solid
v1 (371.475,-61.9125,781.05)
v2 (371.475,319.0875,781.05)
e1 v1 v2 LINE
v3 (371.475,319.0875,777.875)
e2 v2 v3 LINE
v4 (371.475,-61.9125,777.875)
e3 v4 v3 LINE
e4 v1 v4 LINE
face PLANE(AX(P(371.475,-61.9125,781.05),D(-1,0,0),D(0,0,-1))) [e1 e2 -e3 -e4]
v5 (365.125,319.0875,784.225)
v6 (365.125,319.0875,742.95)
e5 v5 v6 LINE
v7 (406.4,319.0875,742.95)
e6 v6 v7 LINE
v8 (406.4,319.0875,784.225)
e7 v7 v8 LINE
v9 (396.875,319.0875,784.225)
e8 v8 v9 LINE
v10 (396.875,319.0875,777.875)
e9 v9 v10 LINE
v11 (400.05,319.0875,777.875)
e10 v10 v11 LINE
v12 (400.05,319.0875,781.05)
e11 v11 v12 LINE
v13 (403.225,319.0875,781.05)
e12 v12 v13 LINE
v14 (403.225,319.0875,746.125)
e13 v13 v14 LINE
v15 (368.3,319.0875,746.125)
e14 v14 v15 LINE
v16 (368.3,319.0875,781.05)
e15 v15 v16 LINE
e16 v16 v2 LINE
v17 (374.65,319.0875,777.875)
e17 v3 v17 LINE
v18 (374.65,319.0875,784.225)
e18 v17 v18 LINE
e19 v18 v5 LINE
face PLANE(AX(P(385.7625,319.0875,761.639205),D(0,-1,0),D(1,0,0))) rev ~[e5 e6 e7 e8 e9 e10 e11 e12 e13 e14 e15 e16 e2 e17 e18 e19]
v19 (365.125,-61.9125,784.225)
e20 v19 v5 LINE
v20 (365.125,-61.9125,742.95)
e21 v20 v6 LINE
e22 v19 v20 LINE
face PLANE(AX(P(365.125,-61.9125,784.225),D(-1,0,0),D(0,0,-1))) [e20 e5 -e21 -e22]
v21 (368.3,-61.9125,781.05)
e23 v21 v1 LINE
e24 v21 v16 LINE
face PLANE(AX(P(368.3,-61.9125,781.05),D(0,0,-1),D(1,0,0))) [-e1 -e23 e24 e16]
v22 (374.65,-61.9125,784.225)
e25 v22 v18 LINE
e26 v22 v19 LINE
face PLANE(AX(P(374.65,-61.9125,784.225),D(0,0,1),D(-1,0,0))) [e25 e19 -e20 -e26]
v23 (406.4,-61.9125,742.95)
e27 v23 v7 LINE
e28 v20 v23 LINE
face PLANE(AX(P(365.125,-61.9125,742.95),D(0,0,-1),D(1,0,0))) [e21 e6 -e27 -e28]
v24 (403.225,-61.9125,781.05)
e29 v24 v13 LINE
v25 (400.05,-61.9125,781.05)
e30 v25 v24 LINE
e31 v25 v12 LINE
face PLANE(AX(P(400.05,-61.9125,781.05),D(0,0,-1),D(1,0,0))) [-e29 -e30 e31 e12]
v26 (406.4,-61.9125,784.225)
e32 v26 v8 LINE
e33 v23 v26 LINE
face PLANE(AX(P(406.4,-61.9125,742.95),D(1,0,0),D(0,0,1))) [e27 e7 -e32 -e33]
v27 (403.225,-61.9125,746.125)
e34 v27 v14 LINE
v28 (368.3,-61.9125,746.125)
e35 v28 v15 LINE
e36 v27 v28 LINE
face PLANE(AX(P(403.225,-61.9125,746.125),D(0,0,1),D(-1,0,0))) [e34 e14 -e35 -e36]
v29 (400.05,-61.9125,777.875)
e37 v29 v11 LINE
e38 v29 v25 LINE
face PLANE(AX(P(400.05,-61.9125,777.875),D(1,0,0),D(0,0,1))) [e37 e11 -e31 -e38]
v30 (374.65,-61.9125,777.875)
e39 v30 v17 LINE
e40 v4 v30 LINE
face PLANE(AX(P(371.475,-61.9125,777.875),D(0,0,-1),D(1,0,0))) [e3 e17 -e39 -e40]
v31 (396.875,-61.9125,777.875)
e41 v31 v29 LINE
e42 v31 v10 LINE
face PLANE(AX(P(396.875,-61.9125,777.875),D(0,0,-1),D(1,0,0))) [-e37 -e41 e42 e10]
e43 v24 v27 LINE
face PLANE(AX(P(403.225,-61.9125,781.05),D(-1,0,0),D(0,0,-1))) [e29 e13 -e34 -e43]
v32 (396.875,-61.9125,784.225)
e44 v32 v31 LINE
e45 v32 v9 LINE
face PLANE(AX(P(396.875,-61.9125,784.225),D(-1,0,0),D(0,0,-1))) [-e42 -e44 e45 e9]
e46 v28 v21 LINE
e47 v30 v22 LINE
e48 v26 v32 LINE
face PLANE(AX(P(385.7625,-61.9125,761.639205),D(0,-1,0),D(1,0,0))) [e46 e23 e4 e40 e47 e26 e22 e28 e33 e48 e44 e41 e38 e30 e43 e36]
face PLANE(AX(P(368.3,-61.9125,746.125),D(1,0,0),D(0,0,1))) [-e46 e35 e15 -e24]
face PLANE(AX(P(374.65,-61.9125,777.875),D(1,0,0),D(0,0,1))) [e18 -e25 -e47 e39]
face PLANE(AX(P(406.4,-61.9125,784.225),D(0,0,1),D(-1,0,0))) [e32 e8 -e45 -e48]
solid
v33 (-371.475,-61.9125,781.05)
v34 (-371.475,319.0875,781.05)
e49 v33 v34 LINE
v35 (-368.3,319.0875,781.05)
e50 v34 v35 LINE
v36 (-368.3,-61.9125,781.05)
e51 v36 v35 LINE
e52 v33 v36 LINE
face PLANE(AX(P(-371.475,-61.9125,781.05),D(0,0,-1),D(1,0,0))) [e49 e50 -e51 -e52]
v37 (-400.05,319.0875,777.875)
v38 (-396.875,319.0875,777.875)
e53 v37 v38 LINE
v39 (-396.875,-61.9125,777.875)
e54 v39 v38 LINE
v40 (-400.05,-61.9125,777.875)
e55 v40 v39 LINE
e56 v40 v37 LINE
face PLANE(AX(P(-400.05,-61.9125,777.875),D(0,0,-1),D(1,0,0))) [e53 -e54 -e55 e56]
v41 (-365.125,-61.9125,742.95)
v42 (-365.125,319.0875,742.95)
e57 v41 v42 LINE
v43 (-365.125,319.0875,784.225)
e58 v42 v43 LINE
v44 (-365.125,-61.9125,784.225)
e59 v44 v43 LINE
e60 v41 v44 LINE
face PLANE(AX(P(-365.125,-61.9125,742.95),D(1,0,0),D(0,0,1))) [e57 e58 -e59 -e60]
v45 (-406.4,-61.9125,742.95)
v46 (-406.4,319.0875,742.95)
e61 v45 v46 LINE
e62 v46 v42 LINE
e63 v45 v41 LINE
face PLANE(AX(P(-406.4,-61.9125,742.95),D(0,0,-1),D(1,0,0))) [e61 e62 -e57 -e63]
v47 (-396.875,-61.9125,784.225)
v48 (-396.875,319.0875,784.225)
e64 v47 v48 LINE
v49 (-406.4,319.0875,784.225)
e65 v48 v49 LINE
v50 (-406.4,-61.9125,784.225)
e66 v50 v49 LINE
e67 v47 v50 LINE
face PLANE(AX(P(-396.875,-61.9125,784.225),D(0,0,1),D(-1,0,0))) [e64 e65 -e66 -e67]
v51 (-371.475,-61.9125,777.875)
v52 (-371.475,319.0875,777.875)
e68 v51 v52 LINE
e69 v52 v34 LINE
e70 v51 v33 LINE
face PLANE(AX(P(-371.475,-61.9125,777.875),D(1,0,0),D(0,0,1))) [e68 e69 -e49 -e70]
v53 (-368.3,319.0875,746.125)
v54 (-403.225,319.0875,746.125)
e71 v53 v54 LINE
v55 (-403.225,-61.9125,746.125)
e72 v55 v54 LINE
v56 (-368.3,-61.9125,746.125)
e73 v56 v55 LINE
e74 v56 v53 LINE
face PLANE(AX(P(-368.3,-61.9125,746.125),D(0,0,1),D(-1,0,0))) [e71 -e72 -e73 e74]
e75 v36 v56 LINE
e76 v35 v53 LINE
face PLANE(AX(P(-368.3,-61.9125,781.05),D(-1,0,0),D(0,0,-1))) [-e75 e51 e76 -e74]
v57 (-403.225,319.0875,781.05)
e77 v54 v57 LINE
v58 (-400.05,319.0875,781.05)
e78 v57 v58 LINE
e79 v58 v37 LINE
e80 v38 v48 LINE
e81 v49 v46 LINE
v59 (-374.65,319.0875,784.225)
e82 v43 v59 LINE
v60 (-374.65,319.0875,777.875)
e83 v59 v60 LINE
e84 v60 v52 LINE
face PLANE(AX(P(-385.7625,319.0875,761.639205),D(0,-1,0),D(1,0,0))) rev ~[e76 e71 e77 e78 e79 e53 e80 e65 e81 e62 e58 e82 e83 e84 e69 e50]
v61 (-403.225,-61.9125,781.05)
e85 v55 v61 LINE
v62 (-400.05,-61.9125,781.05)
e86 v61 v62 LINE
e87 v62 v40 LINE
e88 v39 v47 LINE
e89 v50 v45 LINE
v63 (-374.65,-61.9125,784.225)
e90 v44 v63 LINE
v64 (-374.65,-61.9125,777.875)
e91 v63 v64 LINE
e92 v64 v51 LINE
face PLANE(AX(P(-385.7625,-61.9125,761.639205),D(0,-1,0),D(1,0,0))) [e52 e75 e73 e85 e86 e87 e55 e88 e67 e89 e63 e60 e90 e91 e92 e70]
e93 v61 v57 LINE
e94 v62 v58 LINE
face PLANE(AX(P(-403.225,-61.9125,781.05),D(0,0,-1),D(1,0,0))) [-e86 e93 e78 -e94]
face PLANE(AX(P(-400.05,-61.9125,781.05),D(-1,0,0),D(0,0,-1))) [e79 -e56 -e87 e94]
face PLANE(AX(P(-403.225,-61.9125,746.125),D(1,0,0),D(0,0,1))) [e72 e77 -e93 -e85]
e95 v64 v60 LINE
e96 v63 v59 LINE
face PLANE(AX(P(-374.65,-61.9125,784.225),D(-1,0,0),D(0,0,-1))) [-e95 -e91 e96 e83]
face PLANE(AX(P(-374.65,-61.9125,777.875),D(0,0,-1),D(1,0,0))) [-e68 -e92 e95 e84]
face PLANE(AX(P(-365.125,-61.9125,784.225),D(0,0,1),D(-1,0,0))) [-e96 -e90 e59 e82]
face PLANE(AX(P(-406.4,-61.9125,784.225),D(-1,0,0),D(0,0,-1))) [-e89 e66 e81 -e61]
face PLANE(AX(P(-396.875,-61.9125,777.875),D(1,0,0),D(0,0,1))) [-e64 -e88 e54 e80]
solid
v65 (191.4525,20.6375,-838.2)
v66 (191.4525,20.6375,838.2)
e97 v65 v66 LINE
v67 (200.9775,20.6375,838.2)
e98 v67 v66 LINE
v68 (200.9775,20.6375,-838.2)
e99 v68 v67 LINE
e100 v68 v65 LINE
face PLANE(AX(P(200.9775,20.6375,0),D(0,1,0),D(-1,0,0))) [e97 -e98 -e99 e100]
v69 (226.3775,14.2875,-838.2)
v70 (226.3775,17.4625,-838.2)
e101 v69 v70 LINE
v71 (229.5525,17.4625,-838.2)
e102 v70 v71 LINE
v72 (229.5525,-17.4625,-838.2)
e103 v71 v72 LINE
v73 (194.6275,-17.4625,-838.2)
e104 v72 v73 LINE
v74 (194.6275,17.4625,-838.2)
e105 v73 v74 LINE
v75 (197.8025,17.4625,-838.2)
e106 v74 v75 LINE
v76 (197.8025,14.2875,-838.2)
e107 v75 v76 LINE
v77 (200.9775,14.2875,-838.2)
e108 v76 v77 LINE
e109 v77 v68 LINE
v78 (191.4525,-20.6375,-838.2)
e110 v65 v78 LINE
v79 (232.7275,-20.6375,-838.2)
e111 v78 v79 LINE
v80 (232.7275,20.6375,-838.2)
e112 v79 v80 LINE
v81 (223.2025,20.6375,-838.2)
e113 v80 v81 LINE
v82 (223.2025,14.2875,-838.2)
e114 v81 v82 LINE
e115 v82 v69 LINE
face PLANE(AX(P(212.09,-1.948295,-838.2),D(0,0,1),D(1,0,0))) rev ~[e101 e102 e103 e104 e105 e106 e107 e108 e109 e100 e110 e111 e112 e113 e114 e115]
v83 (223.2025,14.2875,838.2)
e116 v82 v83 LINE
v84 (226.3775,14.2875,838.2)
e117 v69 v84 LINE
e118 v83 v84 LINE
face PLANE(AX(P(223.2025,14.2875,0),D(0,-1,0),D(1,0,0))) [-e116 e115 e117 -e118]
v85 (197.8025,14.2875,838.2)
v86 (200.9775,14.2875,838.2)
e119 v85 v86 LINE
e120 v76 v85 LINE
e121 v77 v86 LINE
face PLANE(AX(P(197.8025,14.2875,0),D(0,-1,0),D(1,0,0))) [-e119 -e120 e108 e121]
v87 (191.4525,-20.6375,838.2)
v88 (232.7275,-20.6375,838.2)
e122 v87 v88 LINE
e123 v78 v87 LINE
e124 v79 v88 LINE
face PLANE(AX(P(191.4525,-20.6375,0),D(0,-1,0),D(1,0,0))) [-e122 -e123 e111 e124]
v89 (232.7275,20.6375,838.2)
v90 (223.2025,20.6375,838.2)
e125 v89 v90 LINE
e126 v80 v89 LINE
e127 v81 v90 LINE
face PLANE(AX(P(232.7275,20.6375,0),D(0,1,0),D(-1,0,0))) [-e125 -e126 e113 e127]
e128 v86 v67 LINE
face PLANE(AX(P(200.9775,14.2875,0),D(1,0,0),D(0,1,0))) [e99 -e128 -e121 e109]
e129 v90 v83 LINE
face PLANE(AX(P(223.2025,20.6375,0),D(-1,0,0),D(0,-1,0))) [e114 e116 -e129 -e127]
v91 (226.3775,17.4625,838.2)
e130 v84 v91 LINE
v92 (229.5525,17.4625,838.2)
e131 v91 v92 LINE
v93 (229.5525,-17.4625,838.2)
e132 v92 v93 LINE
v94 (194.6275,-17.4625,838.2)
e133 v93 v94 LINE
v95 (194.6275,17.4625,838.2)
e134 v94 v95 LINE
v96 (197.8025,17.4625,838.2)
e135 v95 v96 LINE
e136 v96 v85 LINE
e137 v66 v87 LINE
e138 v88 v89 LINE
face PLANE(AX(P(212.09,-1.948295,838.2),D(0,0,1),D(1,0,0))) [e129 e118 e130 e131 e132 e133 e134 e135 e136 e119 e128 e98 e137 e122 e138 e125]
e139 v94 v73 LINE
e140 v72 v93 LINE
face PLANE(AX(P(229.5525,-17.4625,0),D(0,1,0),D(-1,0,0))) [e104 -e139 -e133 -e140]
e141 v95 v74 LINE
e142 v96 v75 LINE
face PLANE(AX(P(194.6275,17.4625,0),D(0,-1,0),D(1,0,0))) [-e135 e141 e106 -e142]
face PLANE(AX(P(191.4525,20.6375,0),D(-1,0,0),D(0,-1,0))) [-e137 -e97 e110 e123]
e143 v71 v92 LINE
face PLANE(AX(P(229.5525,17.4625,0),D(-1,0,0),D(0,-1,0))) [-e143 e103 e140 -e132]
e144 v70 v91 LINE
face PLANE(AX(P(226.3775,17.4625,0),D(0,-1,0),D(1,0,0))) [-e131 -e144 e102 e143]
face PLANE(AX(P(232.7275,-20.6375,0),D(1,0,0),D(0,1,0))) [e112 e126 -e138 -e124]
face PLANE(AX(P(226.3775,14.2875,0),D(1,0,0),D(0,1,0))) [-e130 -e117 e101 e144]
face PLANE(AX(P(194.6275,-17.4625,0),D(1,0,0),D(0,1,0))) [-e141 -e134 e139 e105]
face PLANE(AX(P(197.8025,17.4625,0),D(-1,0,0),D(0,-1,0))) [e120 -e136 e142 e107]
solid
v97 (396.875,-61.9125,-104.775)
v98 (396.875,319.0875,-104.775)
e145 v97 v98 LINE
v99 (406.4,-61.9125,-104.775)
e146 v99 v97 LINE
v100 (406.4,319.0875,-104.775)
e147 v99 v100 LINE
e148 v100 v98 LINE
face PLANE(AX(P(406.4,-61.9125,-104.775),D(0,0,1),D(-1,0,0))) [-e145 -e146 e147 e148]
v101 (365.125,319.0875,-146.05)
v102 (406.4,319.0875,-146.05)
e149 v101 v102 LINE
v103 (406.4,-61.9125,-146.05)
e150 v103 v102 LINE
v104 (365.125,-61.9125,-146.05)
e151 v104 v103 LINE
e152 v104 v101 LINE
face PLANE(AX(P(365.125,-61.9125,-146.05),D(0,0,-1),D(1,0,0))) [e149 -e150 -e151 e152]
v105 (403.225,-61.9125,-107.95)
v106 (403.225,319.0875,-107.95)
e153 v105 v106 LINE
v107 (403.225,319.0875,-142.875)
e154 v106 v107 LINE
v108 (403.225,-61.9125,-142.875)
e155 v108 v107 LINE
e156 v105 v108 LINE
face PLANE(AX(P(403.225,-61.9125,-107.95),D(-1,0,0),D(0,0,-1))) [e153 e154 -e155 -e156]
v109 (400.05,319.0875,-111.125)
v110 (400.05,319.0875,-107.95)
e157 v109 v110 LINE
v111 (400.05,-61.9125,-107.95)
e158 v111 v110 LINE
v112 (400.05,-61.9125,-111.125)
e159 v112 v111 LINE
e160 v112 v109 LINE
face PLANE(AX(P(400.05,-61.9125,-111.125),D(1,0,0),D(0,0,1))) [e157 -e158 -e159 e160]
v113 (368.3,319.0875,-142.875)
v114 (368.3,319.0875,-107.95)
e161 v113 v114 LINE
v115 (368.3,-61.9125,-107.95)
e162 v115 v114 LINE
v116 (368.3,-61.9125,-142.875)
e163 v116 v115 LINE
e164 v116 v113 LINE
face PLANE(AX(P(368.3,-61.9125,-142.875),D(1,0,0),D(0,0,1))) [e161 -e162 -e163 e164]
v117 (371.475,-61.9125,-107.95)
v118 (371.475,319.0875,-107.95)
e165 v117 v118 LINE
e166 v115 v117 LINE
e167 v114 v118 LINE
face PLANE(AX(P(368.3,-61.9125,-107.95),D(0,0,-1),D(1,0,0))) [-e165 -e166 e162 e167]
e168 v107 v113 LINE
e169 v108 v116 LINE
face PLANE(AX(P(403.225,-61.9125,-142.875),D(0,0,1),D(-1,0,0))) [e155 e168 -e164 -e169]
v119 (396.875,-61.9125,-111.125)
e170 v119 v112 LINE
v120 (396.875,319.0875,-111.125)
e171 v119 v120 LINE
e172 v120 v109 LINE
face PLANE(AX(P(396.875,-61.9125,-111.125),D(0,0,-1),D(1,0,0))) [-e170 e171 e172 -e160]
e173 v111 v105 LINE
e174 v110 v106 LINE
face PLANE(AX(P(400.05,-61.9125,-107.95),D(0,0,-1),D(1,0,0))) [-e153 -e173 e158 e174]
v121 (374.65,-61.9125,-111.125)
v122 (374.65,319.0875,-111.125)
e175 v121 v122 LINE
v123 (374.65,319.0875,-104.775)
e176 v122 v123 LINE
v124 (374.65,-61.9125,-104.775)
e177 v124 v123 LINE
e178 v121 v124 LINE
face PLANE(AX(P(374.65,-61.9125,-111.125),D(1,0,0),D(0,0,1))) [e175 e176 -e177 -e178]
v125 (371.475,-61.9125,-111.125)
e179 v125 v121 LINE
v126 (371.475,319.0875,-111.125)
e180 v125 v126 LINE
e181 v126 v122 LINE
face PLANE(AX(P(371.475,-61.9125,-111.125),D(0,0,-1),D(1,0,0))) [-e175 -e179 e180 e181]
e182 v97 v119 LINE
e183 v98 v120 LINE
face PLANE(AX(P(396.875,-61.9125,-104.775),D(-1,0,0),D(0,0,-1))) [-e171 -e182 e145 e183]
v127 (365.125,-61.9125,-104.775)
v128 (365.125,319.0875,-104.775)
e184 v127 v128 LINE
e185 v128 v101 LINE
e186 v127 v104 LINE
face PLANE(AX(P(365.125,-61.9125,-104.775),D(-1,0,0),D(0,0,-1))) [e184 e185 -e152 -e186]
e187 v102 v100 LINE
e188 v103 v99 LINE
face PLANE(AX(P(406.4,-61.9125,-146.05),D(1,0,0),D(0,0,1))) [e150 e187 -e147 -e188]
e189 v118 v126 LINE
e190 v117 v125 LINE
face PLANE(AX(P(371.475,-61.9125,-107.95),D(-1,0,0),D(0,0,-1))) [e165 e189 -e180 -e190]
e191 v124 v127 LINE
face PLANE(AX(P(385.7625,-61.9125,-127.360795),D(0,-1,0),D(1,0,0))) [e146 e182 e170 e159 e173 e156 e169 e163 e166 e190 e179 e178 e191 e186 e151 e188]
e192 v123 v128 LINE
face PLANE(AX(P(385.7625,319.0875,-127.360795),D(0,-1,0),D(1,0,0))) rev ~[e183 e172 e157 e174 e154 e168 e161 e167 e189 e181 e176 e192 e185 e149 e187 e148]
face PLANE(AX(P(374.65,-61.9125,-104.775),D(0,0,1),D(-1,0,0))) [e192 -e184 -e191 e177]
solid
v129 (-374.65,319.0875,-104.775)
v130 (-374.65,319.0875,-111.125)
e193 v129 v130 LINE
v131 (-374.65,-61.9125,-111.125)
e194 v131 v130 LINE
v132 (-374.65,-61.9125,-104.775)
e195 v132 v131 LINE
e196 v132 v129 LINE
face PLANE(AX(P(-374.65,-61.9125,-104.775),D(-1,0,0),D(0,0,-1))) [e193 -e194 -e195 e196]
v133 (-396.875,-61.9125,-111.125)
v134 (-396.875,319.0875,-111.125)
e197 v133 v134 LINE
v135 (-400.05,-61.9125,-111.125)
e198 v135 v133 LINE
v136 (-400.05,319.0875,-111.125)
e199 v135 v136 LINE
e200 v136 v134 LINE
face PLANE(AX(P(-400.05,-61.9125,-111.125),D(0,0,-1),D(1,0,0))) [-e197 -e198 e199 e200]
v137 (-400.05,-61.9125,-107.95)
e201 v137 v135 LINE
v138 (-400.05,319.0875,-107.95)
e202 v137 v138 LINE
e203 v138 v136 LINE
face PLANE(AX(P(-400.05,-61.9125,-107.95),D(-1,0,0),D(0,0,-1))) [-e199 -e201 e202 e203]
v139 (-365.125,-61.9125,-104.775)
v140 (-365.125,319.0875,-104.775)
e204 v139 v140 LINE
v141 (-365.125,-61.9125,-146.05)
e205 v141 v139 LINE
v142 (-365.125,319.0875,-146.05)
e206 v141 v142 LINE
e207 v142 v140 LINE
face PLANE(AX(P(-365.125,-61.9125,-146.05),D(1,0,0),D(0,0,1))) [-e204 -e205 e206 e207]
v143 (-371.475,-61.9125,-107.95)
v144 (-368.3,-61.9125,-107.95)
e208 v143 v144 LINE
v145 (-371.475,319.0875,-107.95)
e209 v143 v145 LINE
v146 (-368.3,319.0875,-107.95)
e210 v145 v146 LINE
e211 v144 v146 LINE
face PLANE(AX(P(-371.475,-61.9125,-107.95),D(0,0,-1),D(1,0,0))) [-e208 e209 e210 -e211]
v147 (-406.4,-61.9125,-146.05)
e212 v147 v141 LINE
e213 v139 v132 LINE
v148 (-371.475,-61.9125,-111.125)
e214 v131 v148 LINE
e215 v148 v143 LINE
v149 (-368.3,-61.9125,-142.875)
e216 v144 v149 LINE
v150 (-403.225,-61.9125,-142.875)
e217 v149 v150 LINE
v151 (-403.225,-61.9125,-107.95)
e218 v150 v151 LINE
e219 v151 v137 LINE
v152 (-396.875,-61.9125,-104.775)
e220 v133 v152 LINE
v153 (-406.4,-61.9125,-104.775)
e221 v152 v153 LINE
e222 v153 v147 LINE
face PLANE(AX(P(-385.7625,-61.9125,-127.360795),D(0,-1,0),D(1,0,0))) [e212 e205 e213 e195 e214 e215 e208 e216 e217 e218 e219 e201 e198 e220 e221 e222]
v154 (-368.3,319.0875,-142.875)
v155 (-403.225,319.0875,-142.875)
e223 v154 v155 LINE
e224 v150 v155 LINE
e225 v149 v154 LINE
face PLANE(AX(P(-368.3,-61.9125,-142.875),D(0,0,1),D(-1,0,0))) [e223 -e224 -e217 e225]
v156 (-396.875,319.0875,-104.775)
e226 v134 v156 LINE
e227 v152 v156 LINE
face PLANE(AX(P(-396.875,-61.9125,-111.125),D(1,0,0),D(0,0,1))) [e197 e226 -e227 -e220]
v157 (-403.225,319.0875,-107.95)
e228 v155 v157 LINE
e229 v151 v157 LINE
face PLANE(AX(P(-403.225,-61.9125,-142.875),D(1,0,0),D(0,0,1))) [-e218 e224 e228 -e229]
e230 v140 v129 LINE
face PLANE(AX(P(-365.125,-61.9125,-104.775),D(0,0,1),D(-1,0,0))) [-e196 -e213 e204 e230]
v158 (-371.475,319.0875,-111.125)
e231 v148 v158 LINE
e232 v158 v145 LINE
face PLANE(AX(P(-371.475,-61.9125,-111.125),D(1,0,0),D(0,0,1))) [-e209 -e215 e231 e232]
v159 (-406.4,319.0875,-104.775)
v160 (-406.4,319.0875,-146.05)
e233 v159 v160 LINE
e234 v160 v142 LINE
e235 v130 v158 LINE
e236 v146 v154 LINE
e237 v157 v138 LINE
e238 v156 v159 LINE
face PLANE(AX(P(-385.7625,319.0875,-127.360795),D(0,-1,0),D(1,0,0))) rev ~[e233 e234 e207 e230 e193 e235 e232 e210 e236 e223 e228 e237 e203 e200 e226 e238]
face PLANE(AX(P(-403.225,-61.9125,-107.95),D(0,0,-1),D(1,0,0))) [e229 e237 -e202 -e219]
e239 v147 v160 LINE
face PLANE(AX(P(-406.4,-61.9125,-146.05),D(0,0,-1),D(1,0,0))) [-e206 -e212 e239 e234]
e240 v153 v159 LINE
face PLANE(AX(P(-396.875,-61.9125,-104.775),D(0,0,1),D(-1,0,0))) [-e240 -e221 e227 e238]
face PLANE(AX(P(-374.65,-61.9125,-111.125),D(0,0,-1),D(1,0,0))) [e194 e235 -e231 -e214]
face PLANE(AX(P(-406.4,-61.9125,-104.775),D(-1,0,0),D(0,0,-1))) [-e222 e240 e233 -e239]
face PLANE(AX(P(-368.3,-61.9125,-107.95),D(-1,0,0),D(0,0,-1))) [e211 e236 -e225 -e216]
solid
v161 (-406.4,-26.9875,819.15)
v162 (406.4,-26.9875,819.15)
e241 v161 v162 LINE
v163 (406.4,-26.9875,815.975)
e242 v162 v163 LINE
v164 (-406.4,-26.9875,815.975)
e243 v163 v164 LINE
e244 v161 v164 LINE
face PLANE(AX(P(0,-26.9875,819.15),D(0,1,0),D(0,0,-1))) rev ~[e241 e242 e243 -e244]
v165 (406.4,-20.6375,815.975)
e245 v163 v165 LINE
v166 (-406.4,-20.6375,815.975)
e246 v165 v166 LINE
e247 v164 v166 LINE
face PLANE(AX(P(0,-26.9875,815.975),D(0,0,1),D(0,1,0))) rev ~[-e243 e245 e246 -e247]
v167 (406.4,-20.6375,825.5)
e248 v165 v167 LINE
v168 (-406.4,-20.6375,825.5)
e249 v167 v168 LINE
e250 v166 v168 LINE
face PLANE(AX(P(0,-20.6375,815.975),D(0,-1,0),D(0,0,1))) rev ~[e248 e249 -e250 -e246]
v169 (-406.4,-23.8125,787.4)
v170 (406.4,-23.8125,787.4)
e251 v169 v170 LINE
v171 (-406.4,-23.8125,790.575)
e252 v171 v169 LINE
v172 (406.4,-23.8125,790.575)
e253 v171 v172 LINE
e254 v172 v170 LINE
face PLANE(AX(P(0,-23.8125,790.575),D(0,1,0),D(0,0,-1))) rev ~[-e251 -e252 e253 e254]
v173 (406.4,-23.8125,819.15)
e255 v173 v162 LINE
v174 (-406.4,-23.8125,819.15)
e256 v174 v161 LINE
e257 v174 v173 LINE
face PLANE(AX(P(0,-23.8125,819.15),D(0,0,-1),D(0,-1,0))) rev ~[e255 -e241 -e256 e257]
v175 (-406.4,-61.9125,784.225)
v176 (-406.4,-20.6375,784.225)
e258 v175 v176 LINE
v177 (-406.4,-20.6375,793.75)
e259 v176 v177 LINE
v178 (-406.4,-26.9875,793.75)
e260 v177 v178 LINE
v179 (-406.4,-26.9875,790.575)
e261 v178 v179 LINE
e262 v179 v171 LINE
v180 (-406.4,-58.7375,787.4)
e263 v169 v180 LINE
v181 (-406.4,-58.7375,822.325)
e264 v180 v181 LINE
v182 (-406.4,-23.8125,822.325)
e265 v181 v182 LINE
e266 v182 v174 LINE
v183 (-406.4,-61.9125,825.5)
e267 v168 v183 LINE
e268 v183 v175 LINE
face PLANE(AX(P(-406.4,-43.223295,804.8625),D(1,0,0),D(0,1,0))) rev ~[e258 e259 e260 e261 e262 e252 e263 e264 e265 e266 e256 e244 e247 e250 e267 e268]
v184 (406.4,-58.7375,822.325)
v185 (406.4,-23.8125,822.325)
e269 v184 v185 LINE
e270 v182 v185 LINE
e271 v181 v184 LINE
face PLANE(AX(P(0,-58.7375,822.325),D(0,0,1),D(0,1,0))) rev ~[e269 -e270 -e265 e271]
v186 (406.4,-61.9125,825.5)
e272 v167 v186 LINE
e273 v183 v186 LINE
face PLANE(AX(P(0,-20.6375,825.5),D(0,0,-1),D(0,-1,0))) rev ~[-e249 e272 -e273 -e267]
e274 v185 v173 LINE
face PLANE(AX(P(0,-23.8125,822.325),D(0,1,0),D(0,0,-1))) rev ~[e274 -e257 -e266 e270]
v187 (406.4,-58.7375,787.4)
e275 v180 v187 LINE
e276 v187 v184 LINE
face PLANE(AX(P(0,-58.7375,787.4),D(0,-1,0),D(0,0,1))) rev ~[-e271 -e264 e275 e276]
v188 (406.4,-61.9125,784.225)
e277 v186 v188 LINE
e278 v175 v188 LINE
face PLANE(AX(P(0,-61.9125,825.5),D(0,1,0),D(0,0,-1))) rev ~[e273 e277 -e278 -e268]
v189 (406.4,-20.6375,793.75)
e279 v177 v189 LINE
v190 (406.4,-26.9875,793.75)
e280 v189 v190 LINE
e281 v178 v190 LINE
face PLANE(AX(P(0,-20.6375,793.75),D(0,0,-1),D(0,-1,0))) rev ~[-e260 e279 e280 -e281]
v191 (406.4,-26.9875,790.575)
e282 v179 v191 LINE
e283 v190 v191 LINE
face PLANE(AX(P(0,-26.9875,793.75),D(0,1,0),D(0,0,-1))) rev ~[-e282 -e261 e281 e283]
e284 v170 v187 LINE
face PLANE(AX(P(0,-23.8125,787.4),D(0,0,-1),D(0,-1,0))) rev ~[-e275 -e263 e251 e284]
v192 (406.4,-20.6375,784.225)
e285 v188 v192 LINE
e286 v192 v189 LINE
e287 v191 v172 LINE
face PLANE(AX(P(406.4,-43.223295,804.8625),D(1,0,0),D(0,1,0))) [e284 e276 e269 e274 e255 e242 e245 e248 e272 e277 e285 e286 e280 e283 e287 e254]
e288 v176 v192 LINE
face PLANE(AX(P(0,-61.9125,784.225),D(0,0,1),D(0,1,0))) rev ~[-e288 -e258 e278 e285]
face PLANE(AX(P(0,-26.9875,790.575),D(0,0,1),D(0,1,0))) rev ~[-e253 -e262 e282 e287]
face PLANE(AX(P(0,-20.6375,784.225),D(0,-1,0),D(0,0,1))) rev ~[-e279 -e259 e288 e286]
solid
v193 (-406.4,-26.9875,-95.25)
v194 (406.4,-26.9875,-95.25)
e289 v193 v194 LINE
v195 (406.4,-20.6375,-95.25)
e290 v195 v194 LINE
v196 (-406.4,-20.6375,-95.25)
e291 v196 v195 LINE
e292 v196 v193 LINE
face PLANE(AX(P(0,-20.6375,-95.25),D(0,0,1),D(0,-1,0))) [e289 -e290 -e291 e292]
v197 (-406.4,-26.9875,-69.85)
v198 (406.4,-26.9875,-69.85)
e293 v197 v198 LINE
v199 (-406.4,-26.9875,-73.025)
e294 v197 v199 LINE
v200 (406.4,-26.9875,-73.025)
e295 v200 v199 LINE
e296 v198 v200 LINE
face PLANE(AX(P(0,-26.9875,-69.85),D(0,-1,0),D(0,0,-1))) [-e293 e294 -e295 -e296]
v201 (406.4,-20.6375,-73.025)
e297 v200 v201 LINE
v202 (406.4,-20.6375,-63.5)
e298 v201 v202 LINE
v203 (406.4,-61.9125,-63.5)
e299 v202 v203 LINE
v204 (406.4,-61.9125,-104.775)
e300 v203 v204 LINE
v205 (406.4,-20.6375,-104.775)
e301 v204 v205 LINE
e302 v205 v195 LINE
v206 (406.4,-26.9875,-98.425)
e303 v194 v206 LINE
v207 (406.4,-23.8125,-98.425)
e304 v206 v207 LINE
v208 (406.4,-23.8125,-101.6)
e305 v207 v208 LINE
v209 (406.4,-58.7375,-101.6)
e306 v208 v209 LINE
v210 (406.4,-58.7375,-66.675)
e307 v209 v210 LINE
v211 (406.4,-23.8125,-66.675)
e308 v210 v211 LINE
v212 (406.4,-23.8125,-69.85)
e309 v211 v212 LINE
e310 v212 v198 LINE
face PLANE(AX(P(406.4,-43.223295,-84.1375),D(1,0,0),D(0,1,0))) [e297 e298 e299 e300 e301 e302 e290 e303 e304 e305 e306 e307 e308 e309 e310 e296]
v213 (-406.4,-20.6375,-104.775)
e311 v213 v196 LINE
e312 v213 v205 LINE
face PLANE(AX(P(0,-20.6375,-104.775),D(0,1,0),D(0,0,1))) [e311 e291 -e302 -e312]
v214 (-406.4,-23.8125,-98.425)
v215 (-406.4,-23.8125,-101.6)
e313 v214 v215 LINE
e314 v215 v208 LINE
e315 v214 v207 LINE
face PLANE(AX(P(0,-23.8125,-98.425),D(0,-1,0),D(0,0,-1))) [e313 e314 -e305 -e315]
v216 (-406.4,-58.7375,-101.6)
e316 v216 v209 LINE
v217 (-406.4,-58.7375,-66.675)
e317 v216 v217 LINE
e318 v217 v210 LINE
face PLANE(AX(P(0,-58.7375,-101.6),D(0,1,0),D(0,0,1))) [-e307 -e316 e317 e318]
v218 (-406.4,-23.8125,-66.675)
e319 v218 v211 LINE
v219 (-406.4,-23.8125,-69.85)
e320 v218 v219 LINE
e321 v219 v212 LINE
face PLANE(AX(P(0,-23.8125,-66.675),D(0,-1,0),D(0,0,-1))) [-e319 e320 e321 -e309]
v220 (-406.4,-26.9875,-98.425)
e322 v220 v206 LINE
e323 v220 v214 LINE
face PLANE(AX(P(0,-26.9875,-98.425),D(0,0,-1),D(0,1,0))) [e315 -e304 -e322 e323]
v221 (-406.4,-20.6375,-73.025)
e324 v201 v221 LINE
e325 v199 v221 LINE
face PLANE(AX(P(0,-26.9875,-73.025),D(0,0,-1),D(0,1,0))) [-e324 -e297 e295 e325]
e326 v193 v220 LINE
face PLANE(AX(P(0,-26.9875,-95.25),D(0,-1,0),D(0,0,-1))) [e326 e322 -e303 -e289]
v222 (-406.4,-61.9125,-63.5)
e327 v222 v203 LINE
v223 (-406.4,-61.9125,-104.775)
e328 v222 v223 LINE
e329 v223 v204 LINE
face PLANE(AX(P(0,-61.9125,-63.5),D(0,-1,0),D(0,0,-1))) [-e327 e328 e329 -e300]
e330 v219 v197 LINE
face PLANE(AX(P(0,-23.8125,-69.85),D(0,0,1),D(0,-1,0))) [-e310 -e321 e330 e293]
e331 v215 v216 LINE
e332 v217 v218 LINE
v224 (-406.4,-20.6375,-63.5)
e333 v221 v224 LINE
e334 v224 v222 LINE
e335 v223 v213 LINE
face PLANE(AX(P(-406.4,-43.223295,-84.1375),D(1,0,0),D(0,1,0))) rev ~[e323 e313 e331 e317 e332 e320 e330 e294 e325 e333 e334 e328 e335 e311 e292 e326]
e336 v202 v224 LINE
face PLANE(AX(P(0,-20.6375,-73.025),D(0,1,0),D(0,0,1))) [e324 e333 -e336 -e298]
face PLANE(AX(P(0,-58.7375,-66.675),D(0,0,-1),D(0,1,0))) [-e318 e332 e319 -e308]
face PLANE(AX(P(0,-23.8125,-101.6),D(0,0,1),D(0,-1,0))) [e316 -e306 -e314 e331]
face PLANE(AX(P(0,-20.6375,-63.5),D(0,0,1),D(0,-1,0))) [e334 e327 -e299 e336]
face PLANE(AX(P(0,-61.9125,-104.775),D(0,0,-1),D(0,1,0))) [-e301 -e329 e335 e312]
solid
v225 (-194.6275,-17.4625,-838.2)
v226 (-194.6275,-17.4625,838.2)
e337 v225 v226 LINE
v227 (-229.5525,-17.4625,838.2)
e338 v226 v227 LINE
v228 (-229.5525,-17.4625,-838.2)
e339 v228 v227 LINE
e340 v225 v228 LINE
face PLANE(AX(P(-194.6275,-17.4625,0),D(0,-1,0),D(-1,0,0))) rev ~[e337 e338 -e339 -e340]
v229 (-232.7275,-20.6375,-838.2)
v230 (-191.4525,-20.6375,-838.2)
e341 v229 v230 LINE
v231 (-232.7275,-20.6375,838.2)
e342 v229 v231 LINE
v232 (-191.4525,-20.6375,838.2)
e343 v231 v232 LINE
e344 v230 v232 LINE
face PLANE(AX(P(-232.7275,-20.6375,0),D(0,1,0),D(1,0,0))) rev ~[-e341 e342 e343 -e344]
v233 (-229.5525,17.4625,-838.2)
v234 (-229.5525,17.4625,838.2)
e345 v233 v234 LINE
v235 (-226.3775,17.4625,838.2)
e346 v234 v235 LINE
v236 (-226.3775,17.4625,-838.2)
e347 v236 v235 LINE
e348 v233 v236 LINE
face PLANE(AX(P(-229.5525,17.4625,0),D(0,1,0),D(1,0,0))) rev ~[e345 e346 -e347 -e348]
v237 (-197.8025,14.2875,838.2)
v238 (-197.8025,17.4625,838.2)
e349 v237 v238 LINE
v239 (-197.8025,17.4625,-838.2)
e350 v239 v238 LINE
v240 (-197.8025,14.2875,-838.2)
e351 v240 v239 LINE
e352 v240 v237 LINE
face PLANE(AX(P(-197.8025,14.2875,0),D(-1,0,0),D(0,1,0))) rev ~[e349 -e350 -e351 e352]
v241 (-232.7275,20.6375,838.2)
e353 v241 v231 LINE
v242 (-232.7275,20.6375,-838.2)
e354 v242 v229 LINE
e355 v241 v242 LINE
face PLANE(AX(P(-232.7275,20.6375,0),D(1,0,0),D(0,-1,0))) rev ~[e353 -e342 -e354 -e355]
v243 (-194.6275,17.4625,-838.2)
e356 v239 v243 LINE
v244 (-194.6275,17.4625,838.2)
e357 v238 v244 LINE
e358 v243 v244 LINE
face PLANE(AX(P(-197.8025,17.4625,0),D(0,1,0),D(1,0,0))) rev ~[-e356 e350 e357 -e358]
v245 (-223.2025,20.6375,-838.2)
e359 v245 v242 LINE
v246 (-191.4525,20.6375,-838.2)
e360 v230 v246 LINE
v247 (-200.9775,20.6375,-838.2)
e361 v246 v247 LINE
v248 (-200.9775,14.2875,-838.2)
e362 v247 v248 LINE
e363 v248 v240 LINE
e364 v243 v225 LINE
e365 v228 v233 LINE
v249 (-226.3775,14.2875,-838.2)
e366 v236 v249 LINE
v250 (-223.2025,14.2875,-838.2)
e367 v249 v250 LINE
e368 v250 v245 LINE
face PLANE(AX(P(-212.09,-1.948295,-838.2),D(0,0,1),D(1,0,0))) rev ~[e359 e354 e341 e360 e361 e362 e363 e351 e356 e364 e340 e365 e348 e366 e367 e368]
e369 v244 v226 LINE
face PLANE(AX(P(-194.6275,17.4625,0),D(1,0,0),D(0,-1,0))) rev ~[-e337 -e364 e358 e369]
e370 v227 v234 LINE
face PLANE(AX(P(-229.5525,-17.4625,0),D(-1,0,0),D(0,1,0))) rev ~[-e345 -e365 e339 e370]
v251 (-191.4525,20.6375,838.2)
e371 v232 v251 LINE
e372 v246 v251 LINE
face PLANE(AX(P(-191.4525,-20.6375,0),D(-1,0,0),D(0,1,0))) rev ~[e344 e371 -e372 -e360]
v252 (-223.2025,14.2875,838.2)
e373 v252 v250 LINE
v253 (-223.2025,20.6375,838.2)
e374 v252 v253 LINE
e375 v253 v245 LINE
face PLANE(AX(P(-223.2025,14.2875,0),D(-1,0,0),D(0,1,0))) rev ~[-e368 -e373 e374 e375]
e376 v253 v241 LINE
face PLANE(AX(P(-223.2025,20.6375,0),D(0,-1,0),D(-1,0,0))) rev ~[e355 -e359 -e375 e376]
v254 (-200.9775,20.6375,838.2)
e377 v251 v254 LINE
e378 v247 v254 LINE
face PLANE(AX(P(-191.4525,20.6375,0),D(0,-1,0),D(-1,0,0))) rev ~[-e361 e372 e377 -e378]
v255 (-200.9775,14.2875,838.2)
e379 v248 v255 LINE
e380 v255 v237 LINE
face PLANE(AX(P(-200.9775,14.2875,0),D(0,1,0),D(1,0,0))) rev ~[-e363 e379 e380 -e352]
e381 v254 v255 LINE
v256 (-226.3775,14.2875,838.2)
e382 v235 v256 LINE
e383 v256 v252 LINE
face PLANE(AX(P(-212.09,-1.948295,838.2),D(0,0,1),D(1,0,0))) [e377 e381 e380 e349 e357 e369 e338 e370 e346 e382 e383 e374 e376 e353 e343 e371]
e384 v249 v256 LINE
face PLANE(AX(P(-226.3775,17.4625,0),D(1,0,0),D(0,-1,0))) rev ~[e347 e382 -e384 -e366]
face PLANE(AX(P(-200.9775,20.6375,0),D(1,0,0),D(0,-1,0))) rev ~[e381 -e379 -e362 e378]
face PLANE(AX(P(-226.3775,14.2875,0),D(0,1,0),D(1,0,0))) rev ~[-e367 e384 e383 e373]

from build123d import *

# Parameters (mm, degrees)
F1_DEPTH = 838.2
F3_DEPTH = 406.4
F5_DEPTH = 381


with BuildPart() as f1:
    # F0 (on Top) → F1 (new body, symmetric)
    with BuildSketch(Plane.XY):
        Polygon((-232.7275, 20.6375), (-232.7275, -20.6375), (-191.4525, -20.6375), (-191.4525, 20.6375), (-200.9775, 20.6375), (-200.9775, 14.2875), (-197.8025, 14.2875), (-197.8025, 17.4625), (-194.6275, 17.4625), (-194.6275, -17.4625), (-229.5525, -17.4625), (-229.5525, 17.4625), (-226.3775, 17.4625), (-226.3775, 14.2875), (-223.2025, 14.2875), (-223.2025, 20.6375), align=None)
        Polygon((197.8025, 17.4625), (197.8025, 14.2875), (200.9775, 14.2875), (200.9775, 20.6375), (191.4525, 20.6375), (191.4525, -20.6375), (232.7275, -20.6375), (232.7275, 20.6375), (223.2025, 20.6375), (223.2025, 14.2875), (226.3775, 14.2875), (226.3775, 17.4625), (229.5525, 17.4625), (229.5525, -17.4625), (194.6275, -17.4625), (194.6275, 17.4625), align=None)
    extrude(amount=F1_DEPTH, both=True)


with BuildPart() as f3:
    # F2 (on Right) → F3 (new body, symmetric)
    with BuildSketch(Plane.YZ):
        Polygon((-20.6375, 825.5), (-61.9125, 825.5), (-61.9125, 784.225), (-20.6375, 784.225), (-20.6375, 793.75), (-26.9875, 793.75), (-26.9875, 790.575), (-23.8125, 790.575), (-23.8125, 787.4), (-58.7375, 787.4), (-58.7375, 822.325), (-23.8125, 822.325), (-23.8125, 819.15), (-26.9875, 819.15), (-26.9875, 815.975), (-20.6375, 815.975), align=None)
        Polygon((-20.6375, -63.5), (-61.9125, -63.5), (-61.9125, -104.775), (-20.6375, -104.775), (-20.6375, -95.25), (-26.9875, -95.25), (-26.9875, -98.425), (-23.8125, -98.425), (-23.8125, -101.6), (-58.7375, -101.6), (-58.7375, -66.675), (-23.8125, -66.675), (-23.8125, -69.85), (-26.9875, -69.85), (-26.9875, -73.025), (-20.6375, -73.025), align=None)
    extrude(amount=F3_DEPTH, both=True)


with BuildPart() as f5:
    # F4 (on face) → F5 (new body)
    with BuildSketch(Plane.XZ.offset(61.9125)):
        Polygon((-400.05, 781.05), (-400.05, 777.875), (-396.875, 777.875), (-396.875, 784.225), (-406.4, 784.225), (-406.4, 742.95), (-365.125, 742.95), (-365.125, 784.225), (-374.65, 784.225), (-374.65, 777.875), (-371.475, 777.875), (-371.475, 781.05), (-368.3, 781.05), (-368.3, 746.125), (-403.225, 746.125), (-403.225, 781.05), align=None)
        Polygon((-396.875, -104.775), (-406.4, -104.775), (-406.4, -146.05), (-365.125, -146.05), (-365.125, -104.775), (-374.65, -104.775), (-374.65, -111.125), (-371.475, -111.125), (-371.475, -107.95), (-368.3, -107.95), (-368.3, -142.875), (-403.225, -142.875), (-403.225, -107.95), (-400.05, -107.95), (-400.05, -111.125), (-396.875, -111.125), align=None)
        Polygon((374.65, 784.225), (365.125, 784.225), (365.125, 742.95), (406.4, 742.95), (406.4, 784.225), (396.875, 784.225), (396.875, 777.875), (400.05, 777.875), (400.05, 781.05), (403.225, 781.05), (403.225, 746.125), (368.3, 746.125), (368.3, 781.05), (371.475, 781.05), (371.475, 777.875), (374.65, 777.875), align=None)
        Polygon((374.65, -104.775), (365.125, -104.775), (365.125, -146.05), (406.4, -146.05), (406.4, -104.775), (396.875, -104.775), (396.875, -111.125), (400.05, -111.125), (400.05, -107.95), (403.225, -107.95), (403.225, -142.875), (368.3, -142.875), (368.3, -107.95), (371.475, -107.95), (371.475, -111.125), (374.65, -111.125), align=None)
    extrude(amount=-F5_DEPTH)


solid = Compound([f1.part, f3.part, f5.part])
